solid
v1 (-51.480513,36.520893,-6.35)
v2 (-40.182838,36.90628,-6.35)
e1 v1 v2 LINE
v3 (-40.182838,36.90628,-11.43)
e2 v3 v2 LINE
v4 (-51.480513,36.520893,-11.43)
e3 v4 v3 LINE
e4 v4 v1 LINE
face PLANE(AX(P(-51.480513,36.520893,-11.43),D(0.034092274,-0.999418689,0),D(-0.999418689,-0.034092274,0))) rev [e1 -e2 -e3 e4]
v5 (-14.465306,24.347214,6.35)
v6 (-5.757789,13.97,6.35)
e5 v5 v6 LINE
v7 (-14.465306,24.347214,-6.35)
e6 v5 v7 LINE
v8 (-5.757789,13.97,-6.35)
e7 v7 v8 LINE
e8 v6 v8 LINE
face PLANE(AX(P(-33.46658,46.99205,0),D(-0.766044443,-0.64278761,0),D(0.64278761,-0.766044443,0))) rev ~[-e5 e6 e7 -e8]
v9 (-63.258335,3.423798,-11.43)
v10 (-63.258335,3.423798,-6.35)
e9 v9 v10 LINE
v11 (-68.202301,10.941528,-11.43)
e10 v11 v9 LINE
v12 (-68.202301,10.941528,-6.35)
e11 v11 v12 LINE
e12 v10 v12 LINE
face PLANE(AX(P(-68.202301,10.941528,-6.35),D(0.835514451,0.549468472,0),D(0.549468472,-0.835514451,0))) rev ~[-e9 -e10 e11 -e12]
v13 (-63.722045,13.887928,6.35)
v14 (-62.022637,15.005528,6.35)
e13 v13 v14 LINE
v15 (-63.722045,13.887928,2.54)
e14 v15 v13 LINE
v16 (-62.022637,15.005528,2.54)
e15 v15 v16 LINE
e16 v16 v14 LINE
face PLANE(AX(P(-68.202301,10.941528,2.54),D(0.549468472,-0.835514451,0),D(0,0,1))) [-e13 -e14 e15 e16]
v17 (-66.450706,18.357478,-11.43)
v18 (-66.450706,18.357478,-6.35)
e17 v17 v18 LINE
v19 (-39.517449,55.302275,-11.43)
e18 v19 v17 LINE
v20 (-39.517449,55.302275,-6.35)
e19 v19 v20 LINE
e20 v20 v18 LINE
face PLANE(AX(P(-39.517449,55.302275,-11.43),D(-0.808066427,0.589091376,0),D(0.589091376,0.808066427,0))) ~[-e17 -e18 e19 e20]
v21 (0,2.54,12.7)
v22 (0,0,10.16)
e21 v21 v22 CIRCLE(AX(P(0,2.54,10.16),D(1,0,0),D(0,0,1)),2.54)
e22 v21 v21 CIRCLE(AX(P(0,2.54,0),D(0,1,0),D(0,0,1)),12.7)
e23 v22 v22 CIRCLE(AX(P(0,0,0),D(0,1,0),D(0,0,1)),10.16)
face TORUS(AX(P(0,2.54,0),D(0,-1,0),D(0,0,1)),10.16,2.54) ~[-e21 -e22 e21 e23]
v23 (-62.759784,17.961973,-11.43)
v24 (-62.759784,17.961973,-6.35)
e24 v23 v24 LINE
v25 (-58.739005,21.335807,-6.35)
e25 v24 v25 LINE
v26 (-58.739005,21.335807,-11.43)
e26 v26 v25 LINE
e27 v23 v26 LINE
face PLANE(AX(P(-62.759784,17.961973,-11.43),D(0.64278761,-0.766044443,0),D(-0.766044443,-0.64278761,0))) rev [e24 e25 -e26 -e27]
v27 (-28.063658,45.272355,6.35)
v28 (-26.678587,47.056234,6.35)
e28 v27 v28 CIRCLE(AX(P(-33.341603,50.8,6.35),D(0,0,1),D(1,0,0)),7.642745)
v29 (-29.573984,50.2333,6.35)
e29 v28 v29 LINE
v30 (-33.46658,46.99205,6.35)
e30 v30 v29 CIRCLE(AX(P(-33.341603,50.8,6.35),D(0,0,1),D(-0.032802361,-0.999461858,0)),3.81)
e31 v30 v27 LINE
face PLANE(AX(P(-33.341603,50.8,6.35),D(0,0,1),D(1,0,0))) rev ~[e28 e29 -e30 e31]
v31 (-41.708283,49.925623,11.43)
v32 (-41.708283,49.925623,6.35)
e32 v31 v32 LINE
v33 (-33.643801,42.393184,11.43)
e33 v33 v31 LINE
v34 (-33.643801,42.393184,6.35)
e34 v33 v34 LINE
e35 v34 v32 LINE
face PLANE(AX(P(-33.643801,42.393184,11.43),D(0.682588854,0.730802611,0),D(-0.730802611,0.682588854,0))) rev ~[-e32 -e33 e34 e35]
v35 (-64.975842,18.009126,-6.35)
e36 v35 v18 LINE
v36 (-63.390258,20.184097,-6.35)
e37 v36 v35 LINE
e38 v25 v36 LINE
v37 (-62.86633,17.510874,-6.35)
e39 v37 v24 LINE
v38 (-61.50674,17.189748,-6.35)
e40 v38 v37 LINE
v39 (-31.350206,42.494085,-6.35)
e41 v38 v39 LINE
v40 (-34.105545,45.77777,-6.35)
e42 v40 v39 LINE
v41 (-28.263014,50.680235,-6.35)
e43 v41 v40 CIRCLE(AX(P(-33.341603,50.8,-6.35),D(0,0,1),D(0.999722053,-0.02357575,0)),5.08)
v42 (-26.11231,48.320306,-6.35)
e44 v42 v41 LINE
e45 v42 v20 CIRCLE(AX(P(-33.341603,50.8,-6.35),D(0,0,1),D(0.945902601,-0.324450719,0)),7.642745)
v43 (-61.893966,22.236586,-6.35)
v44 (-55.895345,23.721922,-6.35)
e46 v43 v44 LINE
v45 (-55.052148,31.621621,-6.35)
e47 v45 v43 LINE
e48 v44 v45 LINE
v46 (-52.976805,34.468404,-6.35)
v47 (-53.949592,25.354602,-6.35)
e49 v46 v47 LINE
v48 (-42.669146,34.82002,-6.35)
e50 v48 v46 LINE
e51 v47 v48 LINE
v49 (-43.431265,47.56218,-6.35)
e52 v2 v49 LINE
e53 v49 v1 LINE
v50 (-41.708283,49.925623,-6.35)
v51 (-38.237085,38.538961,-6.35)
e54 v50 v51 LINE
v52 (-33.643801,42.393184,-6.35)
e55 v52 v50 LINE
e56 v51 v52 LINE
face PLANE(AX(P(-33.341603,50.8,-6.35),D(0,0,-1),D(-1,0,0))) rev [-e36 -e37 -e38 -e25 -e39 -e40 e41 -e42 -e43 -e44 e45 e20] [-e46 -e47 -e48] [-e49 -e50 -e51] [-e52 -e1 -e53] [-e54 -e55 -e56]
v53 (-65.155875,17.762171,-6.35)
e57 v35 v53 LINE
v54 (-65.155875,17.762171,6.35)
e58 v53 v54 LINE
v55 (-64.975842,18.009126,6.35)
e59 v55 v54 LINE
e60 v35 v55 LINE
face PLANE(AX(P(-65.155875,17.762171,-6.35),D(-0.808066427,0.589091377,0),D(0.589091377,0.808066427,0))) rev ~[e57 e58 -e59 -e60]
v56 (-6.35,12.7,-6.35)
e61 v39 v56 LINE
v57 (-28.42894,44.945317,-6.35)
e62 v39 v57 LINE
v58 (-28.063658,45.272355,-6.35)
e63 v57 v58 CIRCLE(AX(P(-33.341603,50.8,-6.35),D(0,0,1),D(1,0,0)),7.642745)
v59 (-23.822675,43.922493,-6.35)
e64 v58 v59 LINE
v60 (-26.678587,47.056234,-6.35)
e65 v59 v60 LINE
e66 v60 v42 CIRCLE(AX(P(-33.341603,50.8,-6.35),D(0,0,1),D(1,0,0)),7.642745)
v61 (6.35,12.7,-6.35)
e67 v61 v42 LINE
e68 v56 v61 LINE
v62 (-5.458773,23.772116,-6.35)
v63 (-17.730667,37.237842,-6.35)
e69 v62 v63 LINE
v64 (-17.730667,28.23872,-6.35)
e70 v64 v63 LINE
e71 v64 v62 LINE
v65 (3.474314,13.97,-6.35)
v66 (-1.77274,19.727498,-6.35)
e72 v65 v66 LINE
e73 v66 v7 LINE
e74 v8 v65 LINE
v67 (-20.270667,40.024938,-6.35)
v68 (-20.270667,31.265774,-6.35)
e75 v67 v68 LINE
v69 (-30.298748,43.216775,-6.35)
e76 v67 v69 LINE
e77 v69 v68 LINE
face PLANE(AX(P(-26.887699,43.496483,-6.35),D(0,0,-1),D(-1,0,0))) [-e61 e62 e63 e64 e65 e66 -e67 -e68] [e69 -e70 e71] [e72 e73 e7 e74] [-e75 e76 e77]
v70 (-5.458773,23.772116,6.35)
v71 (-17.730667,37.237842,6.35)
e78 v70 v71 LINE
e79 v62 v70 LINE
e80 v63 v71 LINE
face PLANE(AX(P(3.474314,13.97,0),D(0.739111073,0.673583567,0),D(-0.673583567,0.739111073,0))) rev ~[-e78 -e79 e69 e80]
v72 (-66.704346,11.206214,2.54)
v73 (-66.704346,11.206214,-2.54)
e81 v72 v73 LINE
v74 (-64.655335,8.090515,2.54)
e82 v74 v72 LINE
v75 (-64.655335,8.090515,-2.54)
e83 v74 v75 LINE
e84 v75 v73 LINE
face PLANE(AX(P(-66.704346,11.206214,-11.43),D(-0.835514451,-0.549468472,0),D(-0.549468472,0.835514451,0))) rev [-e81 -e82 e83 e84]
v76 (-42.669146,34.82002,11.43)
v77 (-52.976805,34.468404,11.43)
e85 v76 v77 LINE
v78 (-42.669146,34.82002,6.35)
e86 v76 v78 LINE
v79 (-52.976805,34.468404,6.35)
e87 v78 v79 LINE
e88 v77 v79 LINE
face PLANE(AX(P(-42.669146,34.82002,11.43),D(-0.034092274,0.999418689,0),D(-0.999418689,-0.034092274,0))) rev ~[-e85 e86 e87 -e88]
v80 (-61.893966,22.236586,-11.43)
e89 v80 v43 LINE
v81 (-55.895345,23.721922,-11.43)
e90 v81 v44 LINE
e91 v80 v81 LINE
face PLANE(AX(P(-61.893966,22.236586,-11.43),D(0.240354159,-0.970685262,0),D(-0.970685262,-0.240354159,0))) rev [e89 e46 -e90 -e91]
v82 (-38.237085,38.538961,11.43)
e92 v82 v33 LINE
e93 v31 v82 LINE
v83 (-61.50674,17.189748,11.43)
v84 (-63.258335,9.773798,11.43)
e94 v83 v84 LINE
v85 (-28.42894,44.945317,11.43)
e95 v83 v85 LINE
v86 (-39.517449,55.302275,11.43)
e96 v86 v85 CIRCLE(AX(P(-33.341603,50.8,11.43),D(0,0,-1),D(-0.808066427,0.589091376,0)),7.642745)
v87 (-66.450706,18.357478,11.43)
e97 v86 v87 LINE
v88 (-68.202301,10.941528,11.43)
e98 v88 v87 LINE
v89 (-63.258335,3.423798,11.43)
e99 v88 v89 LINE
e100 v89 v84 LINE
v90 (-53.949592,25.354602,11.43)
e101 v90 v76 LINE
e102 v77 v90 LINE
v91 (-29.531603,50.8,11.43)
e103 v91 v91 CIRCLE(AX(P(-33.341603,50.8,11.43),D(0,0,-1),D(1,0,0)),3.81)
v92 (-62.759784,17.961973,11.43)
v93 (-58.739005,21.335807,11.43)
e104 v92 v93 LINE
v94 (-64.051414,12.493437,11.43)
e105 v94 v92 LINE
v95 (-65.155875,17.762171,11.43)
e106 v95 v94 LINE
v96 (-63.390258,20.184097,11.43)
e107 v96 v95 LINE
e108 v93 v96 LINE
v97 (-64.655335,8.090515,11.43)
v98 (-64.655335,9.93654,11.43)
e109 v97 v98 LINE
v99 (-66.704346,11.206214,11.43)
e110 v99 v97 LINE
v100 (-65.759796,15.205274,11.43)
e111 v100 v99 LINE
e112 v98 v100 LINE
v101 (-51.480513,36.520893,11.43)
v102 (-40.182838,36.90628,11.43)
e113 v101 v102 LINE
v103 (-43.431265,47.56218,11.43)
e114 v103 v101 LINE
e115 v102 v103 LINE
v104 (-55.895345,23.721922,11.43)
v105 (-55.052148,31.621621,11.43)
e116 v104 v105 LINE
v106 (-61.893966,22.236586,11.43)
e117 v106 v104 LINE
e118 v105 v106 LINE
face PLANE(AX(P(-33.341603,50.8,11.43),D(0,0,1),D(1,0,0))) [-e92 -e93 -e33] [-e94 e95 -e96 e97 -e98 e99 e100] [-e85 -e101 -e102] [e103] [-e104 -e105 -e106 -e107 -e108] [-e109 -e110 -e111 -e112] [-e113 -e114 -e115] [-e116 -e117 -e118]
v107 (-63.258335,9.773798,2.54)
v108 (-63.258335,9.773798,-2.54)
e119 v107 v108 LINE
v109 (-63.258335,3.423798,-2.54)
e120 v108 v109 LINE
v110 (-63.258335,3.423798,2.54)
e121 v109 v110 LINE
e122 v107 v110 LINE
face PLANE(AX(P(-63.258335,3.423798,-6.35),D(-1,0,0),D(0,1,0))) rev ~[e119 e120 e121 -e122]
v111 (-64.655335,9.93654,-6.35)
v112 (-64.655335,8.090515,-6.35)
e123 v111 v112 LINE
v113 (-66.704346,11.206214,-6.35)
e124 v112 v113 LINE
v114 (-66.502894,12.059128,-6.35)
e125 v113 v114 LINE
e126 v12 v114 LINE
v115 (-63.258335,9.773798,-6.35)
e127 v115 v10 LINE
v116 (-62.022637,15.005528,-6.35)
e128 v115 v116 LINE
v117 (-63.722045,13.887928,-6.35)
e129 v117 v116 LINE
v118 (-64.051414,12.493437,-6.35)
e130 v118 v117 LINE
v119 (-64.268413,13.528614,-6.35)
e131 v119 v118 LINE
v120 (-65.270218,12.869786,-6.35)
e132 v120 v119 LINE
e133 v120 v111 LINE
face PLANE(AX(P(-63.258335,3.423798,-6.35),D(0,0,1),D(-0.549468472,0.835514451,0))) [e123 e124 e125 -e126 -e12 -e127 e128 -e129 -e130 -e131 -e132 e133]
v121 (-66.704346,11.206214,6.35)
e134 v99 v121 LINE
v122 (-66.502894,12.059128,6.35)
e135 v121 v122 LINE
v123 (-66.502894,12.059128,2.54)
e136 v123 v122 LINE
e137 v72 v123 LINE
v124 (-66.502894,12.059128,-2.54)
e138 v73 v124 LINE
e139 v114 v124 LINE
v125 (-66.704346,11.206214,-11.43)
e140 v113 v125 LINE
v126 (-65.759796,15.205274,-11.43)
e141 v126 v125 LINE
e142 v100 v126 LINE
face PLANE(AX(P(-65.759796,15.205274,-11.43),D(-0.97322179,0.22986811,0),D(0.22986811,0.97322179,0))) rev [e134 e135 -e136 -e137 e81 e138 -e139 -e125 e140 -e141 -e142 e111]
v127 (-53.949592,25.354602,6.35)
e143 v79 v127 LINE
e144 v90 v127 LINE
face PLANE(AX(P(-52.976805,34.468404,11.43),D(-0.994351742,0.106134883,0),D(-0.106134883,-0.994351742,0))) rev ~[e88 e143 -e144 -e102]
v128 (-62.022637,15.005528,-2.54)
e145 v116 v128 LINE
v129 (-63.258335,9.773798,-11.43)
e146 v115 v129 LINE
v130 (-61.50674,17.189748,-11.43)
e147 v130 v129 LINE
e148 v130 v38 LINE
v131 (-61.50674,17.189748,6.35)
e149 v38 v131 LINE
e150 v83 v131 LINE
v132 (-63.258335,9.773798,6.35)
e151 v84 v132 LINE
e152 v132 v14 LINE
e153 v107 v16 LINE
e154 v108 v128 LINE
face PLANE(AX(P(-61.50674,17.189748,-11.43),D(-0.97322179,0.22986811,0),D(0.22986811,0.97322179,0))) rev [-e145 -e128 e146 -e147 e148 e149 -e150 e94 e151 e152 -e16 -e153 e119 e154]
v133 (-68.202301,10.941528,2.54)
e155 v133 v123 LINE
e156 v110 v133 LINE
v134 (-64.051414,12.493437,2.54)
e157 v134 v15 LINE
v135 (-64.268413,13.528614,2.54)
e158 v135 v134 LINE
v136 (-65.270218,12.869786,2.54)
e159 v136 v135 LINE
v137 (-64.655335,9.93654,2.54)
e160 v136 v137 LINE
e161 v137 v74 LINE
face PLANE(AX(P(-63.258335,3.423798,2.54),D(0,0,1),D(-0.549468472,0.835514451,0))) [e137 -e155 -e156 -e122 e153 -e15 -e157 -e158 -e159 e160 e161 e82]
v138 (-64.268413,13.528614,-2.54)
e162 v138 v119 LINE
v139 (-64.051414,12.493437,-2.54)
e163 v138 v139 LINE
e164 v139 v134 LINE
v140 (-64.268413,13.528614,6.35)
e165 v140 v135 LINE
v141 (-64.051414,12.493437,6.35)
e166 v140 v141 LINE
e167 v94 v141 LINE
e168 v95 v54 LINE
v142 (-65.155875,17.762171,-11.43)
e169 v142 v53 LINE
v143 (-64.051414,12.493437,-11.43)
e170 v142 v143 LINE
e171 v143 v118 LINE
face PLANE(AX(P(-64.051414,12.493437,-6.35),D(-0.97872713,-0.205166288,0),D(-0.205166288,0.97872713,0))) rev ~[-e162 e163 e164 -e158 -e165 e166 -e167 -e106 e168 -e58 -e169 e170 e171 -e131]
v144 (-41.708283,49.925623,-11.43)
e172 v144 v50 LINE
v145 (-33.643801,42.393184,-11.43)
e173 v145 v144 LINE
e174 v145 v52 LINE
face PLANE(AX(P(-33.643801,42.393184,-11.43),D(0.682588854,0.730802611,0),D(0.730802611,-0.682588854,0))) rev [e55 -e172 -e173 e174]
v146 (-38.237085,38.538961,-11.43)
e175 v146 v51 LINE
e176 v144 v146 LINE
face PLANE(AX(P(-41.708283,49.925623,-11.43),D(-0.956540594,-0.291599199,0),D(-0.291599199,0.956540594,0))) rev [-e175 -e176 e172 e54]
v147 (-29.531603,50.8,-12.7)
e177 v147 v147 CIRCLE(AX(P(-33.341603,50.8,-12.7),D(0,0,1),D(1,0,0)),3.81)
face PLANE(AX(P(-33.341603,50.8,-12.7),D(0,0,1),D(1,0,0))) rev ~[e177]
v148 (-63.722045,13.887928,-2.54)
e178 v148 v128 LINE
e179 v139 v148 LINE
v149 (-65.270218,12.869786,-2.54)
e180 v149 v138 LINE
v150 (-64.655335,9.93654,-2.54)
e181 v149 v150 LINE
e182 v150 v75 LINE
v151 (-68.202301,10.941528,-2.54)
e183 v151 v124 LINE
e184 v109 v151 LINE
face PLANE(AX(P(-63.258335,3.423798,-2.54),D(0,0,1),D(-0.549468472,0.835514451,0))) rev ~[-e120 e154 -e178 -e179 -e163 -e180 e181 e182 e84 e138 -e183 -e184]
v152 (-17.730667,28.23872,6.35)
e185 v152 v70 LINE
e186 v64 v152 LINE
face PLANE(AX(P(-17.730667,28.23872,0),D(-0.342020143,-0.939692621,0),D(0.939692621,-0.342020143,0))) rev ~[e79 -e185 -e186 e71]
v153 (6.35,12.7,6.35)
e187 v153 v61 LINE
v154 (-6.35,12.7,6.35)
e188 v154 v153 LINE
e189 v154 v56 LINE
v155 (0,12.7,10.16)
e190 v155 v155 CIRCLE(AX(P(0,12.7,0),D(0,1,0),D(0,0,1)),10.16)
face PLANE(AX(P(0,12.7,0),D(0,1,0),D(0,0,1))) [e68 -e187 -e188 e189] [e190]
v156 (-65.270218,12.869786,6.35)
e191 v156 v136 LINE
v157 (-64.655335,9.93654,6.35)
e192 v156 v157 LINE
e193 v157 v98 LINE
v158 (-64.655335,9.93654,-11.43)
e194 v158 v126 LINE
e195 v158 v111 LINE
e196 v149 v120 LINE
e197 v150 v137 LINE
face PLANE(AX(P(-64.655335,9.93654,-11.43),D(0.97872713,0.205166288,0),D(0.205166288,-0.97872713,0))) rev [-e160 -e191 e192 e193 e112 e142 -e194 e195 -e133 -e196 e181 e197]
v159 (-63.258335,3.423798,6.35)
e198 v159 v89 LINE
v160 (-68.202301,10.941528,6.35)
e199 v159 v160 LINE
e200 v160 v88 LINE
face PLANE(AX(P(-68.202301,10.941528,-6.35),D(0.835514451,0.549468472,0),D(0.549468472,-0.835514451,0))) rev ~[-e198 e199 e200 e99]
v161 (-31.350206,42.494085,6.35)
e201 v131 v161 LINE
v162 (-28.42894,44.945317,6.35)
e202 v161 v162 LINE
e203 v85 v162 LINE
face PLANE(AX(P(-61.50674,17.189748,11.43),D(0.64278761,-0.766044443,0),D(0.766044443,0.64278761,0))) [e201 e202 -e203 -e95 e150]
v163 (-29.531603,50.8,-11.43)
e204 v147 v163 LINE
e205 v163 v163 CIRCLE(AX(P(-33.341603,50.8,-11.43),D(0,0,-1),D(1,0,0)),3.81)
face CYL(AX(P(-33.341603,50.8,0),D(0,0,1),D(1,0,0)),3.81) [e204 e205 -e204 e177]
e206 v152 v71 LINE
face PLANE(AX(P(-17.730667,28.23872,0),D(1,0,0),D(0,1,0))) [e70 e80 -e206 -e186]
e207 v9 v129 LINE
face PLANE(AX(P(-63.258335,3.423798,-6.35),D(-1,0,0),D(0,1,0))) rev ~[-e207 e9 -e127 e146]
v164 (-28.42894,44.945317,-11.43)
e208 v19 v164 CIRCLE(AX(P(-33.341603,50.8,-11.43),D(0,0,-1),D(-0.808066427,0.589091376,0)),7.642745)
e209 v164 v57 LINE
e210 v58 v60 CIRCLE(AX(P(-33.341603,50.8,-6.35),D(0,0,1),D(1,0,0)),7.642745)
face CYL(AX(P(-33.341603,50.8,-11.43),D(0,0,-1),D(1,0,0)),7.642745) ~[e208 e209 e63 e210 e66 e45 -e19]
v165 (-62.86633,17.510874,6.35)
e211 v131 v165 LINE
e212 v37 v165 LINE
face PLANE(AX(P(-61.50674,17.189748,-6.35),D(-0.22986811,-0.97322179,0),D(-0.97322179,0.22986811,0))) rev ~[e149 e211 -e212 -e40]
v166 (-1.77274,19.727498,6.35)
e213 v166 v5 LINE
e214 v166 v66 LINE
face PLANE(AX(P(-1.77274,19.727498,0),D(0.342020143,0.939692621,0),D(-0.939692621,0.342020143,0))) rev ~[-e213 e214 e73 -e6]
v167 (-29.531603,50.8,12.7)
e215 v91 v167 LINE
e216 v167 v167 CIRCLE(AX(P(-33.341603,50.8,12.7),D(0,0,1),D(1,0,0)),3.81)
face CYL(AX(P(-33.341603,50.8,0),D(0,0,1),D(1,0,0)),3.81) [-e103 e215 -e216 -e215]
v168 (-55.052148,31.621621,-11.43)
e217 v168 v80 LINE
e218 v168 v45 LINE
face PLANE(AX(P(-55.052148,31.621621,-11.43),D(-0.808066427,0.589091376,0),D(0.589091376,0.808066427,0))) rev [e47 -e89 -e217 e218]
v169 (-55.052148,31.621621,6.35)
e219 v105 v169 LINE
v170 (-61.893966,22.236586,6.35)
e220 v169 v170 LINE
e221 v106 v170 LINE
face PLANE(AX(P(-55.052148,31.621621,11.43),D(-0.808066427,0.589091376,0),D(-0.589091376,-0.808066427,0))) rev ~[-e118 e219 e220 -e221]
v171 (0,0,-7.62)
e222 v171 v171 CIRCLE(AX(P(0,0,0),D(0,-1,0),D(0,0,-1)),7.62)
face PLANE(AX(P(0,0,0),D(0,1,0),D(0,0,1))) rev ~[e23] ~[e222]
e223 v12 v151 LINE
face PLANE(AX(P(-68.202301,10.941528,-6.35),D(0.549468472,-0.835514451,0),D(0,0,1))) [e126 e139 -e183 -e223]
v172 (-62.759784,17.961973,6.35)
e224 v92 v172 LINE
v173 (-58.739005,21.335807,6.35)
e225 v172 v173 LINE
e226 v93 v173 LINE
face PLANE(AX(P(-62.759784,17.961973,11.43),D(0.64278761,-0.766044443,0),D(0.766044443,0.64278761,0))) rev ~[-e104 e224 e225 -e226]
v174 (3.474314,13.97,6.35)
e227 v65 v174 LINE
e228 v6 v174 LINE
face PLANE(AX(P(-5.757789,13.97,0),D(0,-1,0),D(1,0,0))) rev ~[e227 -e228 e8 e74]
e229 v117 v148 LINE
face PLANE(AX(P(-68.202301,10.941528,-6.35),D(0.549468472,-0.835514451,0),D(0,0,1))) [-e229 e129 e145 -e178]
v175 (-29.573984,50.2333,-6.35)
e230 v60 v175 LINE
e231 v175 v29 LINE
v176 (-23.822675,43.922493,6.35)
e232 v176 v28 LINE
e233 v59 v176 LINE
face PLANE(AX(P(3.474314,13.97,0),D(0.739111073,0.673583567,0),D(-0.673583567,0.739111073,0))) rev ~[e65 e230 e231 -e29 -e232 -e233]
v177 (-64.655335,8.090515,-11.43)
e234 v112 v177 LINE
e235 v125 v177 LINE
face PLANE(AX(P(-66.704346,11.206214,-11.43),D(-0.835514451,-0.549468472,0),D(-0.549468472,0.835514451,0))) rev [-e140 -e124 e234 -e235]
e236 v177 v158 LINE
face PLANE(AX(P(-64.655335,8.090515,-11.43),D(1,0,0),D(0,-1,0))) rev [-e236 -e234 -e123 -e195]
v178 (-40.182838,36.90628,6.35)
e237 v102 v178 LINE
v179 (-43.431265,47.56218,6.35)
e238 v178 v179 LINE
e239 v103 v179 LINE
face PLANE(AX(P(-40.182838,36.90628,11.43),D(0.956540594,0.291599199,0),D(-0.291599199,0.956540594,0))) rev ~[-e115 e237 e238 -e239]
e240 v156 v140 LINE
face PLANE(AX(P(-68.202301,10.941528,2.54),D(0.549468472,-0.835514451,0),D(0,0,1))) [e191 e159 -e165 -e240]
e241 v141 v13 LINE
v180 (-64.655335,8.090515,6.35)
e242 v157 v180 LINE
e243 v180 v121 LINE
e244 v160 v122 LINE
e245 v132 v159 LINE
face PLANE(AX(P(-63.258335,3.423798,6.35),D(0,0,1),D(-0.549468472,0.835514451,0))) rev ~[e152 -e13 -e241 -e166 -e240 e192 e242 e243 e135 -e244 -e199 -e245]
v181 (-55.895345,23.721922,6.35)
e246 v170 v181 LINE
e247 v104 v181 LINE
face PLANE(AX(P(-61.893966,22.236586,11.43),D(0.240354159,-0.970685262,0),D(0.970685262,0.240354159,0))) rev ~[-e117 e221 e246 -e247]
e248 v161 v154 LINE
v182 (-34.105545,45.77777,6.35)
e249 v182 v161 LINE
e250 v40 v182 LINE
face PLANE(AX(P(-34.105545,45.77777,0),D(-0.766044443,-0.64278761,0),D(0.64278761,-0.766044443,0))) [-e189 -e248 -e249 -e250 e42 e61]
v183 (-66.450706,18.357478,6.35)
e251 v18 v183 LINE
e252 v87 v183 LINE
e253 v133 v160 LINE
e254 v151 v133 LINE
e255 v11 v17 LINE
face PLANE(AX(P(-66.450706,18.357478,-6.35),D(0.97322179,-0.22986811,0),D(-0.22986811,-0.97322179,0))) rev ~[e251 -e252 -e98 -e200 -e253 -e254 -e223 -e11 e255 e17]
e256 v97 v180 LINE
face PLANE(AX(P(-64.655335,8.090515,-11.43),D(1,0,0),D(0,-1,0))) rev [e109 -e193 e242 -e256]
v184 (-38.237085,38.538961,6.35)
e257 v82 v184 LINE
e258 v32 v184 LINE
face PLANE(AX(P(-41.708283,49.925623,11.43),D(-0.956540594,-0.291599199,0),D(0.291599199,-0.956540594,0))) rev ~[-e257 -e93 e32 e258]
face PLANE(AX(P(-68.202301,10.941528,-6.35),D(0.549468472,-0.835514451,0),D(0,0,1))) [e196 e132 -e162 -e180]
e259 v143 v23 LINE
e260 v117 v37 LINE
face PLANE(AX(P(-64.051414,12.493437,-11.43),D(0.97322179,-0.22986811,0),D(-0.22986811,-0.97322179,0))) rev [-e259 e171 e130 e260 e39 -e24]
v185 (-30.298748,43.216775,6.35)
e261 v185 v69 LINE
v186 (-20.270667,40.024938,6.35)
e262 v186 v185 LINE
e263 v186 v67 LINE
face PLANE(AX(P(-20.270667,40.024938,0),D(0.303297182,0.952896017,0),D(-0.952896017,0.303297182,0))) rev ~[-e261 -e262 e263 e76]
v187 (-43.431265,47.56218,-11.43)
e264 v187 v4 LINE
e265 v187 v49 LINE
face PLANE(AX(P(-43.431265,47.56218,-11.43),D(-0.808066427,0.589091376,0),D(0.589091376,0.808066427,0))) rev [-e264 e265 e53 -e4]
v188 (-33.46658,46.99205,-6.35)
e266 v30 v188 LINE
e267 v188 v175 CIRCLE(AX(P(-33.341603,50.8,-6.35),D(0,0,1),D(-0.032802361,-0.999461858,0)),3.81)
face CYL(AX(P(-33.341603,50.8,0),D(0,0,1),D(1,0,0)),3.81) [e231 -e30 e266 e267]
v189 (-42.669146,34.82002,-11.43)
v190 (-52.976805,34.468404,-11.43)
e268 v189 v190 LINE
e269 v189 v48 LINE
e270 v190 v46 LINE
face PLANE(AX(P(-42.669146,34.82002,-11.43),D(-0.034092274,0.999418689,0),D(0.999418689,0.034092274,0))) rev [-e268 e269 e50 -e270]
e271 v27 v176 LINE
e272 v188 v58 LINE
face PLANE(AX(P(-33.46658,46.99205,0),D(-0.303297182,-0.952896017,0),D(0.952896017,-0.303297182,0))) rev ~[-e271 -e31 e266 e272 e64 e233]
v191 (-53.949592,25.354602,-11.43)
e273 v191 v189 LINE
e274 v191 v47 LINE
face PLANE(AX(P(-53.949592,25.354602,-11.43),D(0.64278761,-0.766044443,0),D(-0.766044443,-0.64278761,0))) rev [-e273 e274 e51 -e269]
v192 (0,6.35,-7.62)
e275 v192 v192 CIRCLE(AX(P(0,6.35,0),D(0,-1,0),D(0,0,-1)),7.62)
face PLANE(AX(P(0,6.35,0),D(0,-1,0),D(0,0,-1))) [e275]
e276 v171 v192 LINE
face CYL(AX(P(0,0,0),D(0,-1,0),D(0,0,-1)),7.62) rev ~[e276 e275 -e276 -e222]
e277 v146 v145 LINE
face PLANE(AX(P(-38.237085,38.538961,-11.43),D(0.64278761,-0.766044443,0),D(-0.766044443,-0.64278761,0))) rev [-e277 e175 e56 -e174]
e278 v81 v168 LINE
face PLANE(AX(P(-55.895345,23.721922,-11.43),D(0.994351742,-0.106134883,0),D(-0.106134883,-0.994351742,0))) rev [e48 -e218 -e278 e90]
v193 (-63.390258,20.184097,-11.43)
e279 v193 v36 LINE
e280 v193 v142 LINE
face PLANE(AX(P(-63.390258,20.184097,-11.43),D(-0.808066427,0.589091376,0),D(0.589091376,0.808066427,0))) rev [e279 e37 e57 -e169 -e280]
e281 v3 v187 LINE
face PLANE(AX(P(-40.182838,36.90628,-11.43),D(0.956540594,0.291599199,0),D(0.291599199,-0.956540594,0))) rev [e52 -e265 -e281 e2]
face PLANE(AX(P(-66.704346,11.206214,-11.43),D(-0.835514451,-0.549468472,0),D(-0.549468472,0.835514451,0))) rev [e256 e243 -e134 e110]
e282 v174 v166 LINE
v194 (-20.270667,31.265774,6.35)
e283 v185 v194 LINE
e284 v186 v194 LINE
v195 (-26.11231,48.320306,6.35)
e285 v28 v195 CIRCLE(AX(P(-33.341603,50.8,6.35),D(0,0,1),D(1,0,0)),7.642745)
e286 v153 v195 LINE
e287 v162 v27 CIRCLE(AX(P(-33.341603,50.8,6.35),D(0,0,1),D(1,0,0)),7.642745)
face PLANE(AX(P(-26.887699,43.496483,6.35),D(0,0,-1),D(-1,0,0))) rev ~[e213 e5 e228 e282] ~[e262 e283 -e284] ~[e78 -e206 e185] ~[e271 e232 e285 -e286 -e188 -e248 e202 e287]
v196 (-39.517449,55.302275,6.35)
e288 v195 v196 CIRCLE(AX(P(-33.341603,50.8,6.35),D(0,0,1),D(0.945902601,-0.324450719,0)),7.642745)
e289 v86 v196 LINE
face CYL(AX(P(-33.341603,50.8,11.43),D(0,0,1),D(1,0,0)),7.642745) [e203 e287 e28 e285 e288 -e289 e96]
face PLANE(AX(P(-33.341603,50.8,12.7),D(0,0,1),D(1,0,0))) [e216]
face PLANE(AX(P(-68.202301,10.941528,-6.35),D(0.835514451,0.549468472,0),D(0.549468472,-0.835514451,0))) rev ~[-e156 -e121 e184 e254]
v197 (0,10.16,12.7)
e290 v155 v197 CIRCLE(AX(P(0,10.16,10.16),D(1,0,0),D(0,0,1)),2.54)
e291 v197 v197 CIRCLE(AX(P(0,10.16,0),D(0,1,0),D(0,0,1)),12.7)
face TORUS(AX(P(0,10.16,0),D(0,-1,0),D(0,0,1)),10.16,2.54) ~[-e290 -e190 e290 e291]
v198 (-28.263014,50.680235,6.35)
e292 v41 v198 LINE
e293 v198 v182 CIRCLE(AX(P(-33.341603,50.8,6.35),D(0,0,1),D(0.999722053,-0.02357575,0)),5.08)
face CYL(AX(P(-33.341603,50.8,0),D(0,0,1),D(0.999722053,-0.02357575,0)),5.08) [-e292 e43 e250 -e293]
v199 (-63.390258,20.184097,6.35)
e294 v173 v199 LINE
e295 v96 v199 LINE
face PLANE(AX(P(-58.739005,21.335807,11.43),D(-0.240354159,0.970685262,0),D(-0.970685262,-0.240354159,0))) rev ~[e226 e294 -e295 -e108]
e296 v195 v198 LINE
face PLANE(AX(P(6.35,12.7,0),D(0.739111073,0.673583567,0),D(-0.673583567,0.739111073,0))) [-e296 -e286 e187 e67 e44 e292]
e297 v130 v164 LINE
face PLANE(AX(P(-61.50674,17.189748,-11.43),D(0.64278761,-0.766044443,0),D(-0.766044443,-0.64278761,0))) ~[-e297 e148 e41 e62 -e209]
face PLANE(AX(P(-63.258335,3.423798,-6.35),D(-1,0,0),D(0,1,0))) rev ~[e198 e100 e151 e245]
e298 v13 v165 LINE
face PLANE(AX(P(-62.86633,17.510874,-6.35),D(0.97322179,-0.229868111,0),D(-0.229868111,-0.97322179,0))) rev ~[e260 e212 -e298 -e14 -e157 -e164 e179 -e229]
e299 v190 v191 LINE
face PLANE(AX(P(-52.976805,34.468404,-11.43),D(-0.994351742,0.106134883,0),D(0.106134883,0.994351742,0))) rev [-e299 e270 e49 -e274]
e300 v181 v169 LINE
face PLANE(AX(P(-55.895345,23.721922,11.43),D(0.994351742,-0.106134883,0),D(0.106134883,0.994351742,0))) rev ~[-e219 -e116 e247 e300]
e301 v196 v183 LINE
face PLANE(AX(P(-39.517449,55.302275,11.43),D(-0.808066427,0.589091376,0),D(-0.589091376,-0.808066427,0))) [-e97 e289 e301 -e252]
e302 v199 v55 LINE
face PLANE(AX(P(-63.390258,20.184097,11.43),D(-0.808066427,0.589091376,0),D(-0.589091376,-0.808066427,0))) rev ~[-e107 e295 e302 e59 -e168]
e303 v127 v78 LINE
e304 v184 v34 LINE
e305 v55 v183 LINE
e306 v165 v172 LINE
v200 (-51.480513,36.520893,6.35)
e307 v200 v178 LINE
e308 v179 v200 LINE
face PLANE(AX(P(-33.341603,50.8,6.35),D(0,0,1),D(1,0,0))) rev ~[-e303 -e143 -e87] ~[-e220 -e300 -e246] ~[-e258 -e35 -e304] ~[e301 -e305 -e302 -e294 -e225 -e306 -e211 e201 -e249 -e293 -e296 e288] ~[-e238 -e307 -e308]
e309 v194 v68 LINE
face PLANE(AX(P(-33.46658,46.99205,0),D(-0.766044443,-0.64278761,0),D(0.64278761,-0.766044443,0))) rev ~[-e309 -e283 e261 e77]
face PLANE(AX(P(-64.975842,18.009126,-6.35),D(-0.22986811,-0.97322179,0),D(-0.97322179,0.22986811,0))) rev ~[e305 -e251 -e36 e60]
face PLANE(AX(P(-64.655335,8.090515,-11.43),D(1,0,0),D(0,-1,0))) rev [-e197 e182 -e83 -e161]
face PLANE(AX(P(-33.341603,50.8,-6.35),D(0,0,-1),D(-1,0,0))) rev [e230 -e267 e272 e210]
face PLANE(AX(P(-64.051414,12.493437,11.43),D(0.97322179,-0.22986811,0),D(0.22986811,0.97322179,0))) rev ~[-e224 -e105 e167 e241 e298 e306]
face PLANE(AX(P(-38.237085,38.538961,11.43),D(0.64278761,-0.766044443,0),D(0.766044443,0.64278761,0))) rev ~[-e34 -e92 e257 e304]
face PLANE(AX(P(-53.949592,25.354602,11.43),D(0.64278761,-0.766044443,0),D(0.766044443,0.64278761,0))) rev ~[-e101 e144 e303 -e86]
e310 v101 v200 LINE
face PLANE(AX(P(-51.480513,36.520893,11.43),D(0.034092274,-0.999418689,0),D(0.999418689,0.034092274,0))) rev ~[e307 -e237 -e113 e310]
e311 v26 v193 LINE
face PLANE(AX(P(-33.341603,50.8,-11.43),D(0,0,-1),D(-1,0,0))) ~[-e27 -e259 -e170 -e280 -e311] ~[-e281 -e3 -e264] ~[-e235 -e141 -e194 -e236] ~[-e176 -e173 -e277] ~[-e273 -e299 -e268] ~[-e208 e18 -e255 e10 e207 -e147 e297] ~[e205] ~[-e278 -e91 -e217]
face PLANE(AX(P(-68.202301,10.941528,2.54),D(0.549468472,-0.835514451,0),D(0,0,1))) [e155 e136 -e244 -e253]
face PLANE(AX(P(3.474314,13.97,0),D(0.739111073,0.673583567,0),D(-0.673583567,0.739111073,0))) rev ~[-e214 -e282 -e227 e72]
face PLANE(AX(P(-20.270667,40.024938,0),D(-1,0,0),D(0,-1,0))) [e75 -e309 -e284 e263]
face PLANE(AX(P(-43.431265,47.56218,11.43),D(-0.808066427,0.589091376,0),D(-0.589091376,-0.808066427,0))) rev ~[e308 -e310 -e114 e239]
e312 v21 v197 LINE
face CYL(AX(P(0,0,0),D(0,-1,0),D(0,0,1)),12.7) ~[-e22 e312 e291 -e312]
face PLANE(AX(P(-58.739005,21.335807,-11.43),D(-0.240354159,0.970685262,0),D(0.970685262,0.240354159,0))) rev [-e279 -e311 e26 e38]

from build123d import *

# Parameters (mm, degrees)
SKETCH2_R            = 12.7
BOSS_EXTRUDE1_DEPTH  = 12.7
BOSS_EXTRUDE2_DEPTH  = 6.35
CUT_EXTRUDE1_START   = -6.35
CUT_EXTRUDE1_DEPTH   = 7.62
BOSS_EXTRUDE3_DEPTH  = 6.35
SKETCH6_R            = 3.81
BOSS_EXTRUDE4_DEPTH  = 12.7
BOSS_EXTRUDE5_START  = -1.27
SKETCH7_R            = 7.64274541
SKETCH7_R_2          = 3.81
BOSS_EXTRUDE5_DEPTH  = 5.08
CUT_EXTRUDE2_DEPTH   = 94.001963864
SKETCH14_R           = 7.62
CUT_EXTRUDE3_DEPTH   = 6.35
BOSS_EXTRUDE12_REACH = 93.815
FILLET1_R            = 2.54
CUT_EXTRUDE5_REACH   = 105.401
SKETCH16_W           = 3.81
SKETCH16_H           = 8.99772588


with BuildPart() as part:
    # Sketch2 → Boss-Extrude1 (new body)
    with BuildSketch(Plane(origin=(0, 0, 0), x_dir=(1, 0, 0), z_dir=(0, 1, 0))):
        with Locations(Location((0, 0, 0), (0, 0, 270))):
            Circle(SKETCH2_R)
    extrude(amount=BOSS_EXTRUDE1_DEPTH)

    # Sketch3 → Boss-Extrude2 (add, symmetric)
    with BuildSketch(Plane.XY):
        with BuildLine():
            Line((6.35, 12.7), (-28.263014494, 50.680235189))
            ThreePointArc((-28.263014494, 50.680235189), (-36.606963582, 54.691505771), (-34.105544768, 45.777770191))
            Line((-34.105544768, 45.777770191), (-6.35, 12.7))
            Line((-6.35, 12.7), (6.35, 12.7))
        make_face()
    extrude(amount=BOSS_EXTRUDE2_DEPTH, both=True)

    # Sketch4 → Cut-Extrude1 (cut, symmetric)
    with BuildSketch(Plane.XY.offset(6.35).offset(CUT_EXTRUDE1_START)):
        with BuildLine():
            Line((-5.757789274, 13.97), (3.474314319, 13.97))
            Line((3.474314319, 13.97), (-29.573983747, 50.233300134))
            ThreePointArc((-29.573983747, 50.233300134), (-35.779559637, 53.727877238), (-33.46657952, 46.992050322))
            Line((-33.46657952, 46.992050322), (-5.757789274, 13.97))
        make_face()
    extrude(amount=CUT_EXTRUDE1_DEPTH, both=True, mode=Mode.SUBTRACT)

    # Sketch5 → Boss-Extrude3 (add, symmetric)
    with BuildSketch(Plane.XY):
        Polygon((-23.82267484, 43.922492823), (-20.27066661, 40.024938393), (-30.298747694, 43.216775363), (-33.46657952, 46.992050322), align=None)
        Polygon((-20.27066661, 40.024938393), (-20.27066661, 31.265773704), (-17.73066661, 28.238719579), (-17.73066661, 37.237842303), align=None)
        Polygon((-5.458773455, 23.772115752), (-1.772739842, 19.727497693), (-14.465305553, 24.347213808), (-17.73066661, 28.238719579), align=None)
    extrude(amount=BOSS_EXTRUDE3_DEPTH, both=True)

    # Sketch6 → Boss-Extrude4 (add, symmetric)
    with BuildSketch(Plane.XY):
        with Locations((-33.341602525, 50.8)):
            Circle(SKETCH6_R)
    extrude(amount=BOSS_EXTRUDE4_DEPTH, both=True)

    # Sketch7 → Boss-Extrude5 (add)
    # profile 1 of 4: a face of its own
    with BuildSketch(Plane.XY.offset(12.7).offset(BOSS_EXTRUDE5_START)):
        with Locations((-33.341602525, 50.8)):
            Circle(SKETCH7_R)
        with Locations(Location((-33.341602525, 50.8, 0), (0, 0, 268.120225958))):
            Circle(SKETCH7_R_2, mode=Mode.SUBTRACT)
    # profile 2 of 4: a face of its own
    with BuildSketch(Plane.XY.offset(12.7).offset(BOSS_EXTRUDE5_START)):
        with BuildLine():
            ThreePointArc((-28.428940471, 44.945317348), (-38.558455358, 45.2146617), (-39.517448502, 55.302275411))
            Line((-39.517448502, 55.302275411), (-66.450706217, 18.357478363))
            Line((-66.450706217, 18.357478363), (-61.506739525, 17.189748362))
            Line((-61.506739525, 17.189748362), (-28.428940471, 44.945317348))
        make_face()
    # profile 3 of 4: a face of its own
    with BuildSketch(Plane.XY.offset(12.7).offset(BOSS_EXTRUDE5_START)):
        Polygon((-61.506739525, 17.189748362), (-63.258334527, 9.773798325), (-68.202301218, 10.941528326), (-66.450706217, 18.357478363), align=None)
    # profile 4 of 4: a face of its own
    with BuildSketch(Plane.XY.offset(12.7).offset(BOSS_EXTRUDE5_START)):
        Polygon((-68.202301218, 10.941528326), (-63.258334527, 3.423798325), (-63.258334527, 9.773798325), align=None)
    extrude(amount=-BOSS_EXTRUDE5_DEPTH)

    # Sketch10 → Cut-Extrude2 (cut, through all)
    with BuildSketch(Plane.XY.offset(11.43)):
        Polygon((-43.431264654, 47.562180038), (-51.48051274, 36.520892717), (-40.182838097, 36.906280169), align=None)
        Polygon((-52.976804835, 34.468403992), (-53.949591662, 25.35460233), (-42.669146252, 34.820019913), align=None)
        Polygon((-55.05214832, 31.621620856), (-61.893965932, 22.236585976), (-55.895344547, 23.721921802), align=None)
        Polygon((-64.655334527, 9.936540168), (-65.75979615, 15.205273966), (-66.70434579, 11.206214291), (-64.655334527, 8.090515014), align=None)
        Polygon((-63.390258027, 20.184097251), (-65.155875161, 17.762170896), (-64.051413538, 12.493437098), (-62.759783939, 17.96197324), (-58.739005045, 21.335807327), align=None)
        Polygon((-41.708282924, 49.925622701), (-38.237085212, 38.538960697), (-33.643800576, 42.393184141), align=None)
    extrude(amount=-CUT_EXTRUDE2_DEPTH, mode=Mode.SUBTRACT)

    # Mirror1: part across plane


with BuildPart() as part_1:
    add(part.part)
    add(part.part.mirror(Plane.XY))

    # Sketch14 → Cut-Extrude3 (cut)
    with BuildSketch(Plane.XZ):
        with Locations(Location((0, 0, 0), (0, 0, 270))):
            Circle(SKETCH14_R)
    extrude(amount=-CUT_EXTRUDE3_DEPTH, mode=Mode.SUBTRACT)

    # Sketch15 → Boss-Extrude12 (add, up to next)
    with BuildSketch(Plane.XY.offset(-6.35), mode=Mode.PRIVATE) as boss_extrude12_sk1:
        Polygon((-64.9758417, 18.009125785), (-66.450706217, 18.357478363), (-68.202301218, 10.941528326), (-63.258334527, 3.423798325), (-63.258334527, 9.773798325), (-61.506739525, 17.189748362), (-62.866330365, 17.510874112), (-64.051413538, 12.493437098), (-65.155875161, 17.762170896), align=None)
        Polygon((-64.655334527, 8.090515014), (-66.70434579, 11.206214291), (-65.75979615, 15.205273966), (-64.655334527, 9.936540168), align=None, mode=Mode.SUBTRACT)
    boss_extrude12_tool1 = extrude(boss_extrude12_sk1.sketch, amount=BOSS_EXTRUDE12_REACH, mode=Mode.PRIVATE) - part_1.part
    add(boss_extrude12_tool1.solids().sort_by_distance((-64.87727, 11.921902, -6.35))[0])

    # Fillet1
    fillet1_edges = [part_1.edges().sort_by_distance(p)[0] for p in [
        (0, 0, -12.7),
        (0, 12.7, -12.7),
    ]]
    fillet(fillet1_edges, radius=FILLET1_R)

    # Sketch16 → Cut-Extrude5 (cut, up to next)
    with BuildSketch(Plane(origin=(-42.587828759, -28.007497849, 0), x_dir=(0, 0, 1), z_dir=(-0.835514451237255, -0.54946847204704, 0)), mode=Mode.PRIVATE) as cut_extrude5_sk1:
        with Locations((-4.445, 42.117956336)):
            Rectangle(SKETCH16_W, SKETCH16_H)
    cut_extrude5_tool1 = extrude(cut_extrude5_sk1.sketch, amount=-CUT_EXTRUDE5_REACH, mode=Mode.PRIVATE) & part_1.part
    # Sketch16 → Cut-Extrude5 (cut, up to next)
    with BuildSketch(Plane(origin=(-42.587828759, -28.007497849, 0), x_dir=(0, 0, 1), z_dir=(-0.835514451237255, -0.54946847204704, 0)), mode=Mode.PRIVATE) as cut_extrude5_sk2:
        with Locations((4.445, 42.117956336)):
            Rectangle(SKETCH16_W, SKETCH16_H)
    cut_extrude5_tool2 = extrude(cut_extrude5_sk2.sketch, amount=-CUT_EXTRUDE5_REACH, mode=Mode.PRIVATE) & part_1.part
    add(cut_extrude5_tool1.solids().sort_by_distance((-65.730318, 7.182663, -4.445))[0], mode=Mode.SUBTRACT)
    add(cut_extrude5_tool2.solids().sort_by_distance((-65.730318, 7.182663, 4.445))[0], mode=Mode.SUBTRACT)


solid = part_1.part
